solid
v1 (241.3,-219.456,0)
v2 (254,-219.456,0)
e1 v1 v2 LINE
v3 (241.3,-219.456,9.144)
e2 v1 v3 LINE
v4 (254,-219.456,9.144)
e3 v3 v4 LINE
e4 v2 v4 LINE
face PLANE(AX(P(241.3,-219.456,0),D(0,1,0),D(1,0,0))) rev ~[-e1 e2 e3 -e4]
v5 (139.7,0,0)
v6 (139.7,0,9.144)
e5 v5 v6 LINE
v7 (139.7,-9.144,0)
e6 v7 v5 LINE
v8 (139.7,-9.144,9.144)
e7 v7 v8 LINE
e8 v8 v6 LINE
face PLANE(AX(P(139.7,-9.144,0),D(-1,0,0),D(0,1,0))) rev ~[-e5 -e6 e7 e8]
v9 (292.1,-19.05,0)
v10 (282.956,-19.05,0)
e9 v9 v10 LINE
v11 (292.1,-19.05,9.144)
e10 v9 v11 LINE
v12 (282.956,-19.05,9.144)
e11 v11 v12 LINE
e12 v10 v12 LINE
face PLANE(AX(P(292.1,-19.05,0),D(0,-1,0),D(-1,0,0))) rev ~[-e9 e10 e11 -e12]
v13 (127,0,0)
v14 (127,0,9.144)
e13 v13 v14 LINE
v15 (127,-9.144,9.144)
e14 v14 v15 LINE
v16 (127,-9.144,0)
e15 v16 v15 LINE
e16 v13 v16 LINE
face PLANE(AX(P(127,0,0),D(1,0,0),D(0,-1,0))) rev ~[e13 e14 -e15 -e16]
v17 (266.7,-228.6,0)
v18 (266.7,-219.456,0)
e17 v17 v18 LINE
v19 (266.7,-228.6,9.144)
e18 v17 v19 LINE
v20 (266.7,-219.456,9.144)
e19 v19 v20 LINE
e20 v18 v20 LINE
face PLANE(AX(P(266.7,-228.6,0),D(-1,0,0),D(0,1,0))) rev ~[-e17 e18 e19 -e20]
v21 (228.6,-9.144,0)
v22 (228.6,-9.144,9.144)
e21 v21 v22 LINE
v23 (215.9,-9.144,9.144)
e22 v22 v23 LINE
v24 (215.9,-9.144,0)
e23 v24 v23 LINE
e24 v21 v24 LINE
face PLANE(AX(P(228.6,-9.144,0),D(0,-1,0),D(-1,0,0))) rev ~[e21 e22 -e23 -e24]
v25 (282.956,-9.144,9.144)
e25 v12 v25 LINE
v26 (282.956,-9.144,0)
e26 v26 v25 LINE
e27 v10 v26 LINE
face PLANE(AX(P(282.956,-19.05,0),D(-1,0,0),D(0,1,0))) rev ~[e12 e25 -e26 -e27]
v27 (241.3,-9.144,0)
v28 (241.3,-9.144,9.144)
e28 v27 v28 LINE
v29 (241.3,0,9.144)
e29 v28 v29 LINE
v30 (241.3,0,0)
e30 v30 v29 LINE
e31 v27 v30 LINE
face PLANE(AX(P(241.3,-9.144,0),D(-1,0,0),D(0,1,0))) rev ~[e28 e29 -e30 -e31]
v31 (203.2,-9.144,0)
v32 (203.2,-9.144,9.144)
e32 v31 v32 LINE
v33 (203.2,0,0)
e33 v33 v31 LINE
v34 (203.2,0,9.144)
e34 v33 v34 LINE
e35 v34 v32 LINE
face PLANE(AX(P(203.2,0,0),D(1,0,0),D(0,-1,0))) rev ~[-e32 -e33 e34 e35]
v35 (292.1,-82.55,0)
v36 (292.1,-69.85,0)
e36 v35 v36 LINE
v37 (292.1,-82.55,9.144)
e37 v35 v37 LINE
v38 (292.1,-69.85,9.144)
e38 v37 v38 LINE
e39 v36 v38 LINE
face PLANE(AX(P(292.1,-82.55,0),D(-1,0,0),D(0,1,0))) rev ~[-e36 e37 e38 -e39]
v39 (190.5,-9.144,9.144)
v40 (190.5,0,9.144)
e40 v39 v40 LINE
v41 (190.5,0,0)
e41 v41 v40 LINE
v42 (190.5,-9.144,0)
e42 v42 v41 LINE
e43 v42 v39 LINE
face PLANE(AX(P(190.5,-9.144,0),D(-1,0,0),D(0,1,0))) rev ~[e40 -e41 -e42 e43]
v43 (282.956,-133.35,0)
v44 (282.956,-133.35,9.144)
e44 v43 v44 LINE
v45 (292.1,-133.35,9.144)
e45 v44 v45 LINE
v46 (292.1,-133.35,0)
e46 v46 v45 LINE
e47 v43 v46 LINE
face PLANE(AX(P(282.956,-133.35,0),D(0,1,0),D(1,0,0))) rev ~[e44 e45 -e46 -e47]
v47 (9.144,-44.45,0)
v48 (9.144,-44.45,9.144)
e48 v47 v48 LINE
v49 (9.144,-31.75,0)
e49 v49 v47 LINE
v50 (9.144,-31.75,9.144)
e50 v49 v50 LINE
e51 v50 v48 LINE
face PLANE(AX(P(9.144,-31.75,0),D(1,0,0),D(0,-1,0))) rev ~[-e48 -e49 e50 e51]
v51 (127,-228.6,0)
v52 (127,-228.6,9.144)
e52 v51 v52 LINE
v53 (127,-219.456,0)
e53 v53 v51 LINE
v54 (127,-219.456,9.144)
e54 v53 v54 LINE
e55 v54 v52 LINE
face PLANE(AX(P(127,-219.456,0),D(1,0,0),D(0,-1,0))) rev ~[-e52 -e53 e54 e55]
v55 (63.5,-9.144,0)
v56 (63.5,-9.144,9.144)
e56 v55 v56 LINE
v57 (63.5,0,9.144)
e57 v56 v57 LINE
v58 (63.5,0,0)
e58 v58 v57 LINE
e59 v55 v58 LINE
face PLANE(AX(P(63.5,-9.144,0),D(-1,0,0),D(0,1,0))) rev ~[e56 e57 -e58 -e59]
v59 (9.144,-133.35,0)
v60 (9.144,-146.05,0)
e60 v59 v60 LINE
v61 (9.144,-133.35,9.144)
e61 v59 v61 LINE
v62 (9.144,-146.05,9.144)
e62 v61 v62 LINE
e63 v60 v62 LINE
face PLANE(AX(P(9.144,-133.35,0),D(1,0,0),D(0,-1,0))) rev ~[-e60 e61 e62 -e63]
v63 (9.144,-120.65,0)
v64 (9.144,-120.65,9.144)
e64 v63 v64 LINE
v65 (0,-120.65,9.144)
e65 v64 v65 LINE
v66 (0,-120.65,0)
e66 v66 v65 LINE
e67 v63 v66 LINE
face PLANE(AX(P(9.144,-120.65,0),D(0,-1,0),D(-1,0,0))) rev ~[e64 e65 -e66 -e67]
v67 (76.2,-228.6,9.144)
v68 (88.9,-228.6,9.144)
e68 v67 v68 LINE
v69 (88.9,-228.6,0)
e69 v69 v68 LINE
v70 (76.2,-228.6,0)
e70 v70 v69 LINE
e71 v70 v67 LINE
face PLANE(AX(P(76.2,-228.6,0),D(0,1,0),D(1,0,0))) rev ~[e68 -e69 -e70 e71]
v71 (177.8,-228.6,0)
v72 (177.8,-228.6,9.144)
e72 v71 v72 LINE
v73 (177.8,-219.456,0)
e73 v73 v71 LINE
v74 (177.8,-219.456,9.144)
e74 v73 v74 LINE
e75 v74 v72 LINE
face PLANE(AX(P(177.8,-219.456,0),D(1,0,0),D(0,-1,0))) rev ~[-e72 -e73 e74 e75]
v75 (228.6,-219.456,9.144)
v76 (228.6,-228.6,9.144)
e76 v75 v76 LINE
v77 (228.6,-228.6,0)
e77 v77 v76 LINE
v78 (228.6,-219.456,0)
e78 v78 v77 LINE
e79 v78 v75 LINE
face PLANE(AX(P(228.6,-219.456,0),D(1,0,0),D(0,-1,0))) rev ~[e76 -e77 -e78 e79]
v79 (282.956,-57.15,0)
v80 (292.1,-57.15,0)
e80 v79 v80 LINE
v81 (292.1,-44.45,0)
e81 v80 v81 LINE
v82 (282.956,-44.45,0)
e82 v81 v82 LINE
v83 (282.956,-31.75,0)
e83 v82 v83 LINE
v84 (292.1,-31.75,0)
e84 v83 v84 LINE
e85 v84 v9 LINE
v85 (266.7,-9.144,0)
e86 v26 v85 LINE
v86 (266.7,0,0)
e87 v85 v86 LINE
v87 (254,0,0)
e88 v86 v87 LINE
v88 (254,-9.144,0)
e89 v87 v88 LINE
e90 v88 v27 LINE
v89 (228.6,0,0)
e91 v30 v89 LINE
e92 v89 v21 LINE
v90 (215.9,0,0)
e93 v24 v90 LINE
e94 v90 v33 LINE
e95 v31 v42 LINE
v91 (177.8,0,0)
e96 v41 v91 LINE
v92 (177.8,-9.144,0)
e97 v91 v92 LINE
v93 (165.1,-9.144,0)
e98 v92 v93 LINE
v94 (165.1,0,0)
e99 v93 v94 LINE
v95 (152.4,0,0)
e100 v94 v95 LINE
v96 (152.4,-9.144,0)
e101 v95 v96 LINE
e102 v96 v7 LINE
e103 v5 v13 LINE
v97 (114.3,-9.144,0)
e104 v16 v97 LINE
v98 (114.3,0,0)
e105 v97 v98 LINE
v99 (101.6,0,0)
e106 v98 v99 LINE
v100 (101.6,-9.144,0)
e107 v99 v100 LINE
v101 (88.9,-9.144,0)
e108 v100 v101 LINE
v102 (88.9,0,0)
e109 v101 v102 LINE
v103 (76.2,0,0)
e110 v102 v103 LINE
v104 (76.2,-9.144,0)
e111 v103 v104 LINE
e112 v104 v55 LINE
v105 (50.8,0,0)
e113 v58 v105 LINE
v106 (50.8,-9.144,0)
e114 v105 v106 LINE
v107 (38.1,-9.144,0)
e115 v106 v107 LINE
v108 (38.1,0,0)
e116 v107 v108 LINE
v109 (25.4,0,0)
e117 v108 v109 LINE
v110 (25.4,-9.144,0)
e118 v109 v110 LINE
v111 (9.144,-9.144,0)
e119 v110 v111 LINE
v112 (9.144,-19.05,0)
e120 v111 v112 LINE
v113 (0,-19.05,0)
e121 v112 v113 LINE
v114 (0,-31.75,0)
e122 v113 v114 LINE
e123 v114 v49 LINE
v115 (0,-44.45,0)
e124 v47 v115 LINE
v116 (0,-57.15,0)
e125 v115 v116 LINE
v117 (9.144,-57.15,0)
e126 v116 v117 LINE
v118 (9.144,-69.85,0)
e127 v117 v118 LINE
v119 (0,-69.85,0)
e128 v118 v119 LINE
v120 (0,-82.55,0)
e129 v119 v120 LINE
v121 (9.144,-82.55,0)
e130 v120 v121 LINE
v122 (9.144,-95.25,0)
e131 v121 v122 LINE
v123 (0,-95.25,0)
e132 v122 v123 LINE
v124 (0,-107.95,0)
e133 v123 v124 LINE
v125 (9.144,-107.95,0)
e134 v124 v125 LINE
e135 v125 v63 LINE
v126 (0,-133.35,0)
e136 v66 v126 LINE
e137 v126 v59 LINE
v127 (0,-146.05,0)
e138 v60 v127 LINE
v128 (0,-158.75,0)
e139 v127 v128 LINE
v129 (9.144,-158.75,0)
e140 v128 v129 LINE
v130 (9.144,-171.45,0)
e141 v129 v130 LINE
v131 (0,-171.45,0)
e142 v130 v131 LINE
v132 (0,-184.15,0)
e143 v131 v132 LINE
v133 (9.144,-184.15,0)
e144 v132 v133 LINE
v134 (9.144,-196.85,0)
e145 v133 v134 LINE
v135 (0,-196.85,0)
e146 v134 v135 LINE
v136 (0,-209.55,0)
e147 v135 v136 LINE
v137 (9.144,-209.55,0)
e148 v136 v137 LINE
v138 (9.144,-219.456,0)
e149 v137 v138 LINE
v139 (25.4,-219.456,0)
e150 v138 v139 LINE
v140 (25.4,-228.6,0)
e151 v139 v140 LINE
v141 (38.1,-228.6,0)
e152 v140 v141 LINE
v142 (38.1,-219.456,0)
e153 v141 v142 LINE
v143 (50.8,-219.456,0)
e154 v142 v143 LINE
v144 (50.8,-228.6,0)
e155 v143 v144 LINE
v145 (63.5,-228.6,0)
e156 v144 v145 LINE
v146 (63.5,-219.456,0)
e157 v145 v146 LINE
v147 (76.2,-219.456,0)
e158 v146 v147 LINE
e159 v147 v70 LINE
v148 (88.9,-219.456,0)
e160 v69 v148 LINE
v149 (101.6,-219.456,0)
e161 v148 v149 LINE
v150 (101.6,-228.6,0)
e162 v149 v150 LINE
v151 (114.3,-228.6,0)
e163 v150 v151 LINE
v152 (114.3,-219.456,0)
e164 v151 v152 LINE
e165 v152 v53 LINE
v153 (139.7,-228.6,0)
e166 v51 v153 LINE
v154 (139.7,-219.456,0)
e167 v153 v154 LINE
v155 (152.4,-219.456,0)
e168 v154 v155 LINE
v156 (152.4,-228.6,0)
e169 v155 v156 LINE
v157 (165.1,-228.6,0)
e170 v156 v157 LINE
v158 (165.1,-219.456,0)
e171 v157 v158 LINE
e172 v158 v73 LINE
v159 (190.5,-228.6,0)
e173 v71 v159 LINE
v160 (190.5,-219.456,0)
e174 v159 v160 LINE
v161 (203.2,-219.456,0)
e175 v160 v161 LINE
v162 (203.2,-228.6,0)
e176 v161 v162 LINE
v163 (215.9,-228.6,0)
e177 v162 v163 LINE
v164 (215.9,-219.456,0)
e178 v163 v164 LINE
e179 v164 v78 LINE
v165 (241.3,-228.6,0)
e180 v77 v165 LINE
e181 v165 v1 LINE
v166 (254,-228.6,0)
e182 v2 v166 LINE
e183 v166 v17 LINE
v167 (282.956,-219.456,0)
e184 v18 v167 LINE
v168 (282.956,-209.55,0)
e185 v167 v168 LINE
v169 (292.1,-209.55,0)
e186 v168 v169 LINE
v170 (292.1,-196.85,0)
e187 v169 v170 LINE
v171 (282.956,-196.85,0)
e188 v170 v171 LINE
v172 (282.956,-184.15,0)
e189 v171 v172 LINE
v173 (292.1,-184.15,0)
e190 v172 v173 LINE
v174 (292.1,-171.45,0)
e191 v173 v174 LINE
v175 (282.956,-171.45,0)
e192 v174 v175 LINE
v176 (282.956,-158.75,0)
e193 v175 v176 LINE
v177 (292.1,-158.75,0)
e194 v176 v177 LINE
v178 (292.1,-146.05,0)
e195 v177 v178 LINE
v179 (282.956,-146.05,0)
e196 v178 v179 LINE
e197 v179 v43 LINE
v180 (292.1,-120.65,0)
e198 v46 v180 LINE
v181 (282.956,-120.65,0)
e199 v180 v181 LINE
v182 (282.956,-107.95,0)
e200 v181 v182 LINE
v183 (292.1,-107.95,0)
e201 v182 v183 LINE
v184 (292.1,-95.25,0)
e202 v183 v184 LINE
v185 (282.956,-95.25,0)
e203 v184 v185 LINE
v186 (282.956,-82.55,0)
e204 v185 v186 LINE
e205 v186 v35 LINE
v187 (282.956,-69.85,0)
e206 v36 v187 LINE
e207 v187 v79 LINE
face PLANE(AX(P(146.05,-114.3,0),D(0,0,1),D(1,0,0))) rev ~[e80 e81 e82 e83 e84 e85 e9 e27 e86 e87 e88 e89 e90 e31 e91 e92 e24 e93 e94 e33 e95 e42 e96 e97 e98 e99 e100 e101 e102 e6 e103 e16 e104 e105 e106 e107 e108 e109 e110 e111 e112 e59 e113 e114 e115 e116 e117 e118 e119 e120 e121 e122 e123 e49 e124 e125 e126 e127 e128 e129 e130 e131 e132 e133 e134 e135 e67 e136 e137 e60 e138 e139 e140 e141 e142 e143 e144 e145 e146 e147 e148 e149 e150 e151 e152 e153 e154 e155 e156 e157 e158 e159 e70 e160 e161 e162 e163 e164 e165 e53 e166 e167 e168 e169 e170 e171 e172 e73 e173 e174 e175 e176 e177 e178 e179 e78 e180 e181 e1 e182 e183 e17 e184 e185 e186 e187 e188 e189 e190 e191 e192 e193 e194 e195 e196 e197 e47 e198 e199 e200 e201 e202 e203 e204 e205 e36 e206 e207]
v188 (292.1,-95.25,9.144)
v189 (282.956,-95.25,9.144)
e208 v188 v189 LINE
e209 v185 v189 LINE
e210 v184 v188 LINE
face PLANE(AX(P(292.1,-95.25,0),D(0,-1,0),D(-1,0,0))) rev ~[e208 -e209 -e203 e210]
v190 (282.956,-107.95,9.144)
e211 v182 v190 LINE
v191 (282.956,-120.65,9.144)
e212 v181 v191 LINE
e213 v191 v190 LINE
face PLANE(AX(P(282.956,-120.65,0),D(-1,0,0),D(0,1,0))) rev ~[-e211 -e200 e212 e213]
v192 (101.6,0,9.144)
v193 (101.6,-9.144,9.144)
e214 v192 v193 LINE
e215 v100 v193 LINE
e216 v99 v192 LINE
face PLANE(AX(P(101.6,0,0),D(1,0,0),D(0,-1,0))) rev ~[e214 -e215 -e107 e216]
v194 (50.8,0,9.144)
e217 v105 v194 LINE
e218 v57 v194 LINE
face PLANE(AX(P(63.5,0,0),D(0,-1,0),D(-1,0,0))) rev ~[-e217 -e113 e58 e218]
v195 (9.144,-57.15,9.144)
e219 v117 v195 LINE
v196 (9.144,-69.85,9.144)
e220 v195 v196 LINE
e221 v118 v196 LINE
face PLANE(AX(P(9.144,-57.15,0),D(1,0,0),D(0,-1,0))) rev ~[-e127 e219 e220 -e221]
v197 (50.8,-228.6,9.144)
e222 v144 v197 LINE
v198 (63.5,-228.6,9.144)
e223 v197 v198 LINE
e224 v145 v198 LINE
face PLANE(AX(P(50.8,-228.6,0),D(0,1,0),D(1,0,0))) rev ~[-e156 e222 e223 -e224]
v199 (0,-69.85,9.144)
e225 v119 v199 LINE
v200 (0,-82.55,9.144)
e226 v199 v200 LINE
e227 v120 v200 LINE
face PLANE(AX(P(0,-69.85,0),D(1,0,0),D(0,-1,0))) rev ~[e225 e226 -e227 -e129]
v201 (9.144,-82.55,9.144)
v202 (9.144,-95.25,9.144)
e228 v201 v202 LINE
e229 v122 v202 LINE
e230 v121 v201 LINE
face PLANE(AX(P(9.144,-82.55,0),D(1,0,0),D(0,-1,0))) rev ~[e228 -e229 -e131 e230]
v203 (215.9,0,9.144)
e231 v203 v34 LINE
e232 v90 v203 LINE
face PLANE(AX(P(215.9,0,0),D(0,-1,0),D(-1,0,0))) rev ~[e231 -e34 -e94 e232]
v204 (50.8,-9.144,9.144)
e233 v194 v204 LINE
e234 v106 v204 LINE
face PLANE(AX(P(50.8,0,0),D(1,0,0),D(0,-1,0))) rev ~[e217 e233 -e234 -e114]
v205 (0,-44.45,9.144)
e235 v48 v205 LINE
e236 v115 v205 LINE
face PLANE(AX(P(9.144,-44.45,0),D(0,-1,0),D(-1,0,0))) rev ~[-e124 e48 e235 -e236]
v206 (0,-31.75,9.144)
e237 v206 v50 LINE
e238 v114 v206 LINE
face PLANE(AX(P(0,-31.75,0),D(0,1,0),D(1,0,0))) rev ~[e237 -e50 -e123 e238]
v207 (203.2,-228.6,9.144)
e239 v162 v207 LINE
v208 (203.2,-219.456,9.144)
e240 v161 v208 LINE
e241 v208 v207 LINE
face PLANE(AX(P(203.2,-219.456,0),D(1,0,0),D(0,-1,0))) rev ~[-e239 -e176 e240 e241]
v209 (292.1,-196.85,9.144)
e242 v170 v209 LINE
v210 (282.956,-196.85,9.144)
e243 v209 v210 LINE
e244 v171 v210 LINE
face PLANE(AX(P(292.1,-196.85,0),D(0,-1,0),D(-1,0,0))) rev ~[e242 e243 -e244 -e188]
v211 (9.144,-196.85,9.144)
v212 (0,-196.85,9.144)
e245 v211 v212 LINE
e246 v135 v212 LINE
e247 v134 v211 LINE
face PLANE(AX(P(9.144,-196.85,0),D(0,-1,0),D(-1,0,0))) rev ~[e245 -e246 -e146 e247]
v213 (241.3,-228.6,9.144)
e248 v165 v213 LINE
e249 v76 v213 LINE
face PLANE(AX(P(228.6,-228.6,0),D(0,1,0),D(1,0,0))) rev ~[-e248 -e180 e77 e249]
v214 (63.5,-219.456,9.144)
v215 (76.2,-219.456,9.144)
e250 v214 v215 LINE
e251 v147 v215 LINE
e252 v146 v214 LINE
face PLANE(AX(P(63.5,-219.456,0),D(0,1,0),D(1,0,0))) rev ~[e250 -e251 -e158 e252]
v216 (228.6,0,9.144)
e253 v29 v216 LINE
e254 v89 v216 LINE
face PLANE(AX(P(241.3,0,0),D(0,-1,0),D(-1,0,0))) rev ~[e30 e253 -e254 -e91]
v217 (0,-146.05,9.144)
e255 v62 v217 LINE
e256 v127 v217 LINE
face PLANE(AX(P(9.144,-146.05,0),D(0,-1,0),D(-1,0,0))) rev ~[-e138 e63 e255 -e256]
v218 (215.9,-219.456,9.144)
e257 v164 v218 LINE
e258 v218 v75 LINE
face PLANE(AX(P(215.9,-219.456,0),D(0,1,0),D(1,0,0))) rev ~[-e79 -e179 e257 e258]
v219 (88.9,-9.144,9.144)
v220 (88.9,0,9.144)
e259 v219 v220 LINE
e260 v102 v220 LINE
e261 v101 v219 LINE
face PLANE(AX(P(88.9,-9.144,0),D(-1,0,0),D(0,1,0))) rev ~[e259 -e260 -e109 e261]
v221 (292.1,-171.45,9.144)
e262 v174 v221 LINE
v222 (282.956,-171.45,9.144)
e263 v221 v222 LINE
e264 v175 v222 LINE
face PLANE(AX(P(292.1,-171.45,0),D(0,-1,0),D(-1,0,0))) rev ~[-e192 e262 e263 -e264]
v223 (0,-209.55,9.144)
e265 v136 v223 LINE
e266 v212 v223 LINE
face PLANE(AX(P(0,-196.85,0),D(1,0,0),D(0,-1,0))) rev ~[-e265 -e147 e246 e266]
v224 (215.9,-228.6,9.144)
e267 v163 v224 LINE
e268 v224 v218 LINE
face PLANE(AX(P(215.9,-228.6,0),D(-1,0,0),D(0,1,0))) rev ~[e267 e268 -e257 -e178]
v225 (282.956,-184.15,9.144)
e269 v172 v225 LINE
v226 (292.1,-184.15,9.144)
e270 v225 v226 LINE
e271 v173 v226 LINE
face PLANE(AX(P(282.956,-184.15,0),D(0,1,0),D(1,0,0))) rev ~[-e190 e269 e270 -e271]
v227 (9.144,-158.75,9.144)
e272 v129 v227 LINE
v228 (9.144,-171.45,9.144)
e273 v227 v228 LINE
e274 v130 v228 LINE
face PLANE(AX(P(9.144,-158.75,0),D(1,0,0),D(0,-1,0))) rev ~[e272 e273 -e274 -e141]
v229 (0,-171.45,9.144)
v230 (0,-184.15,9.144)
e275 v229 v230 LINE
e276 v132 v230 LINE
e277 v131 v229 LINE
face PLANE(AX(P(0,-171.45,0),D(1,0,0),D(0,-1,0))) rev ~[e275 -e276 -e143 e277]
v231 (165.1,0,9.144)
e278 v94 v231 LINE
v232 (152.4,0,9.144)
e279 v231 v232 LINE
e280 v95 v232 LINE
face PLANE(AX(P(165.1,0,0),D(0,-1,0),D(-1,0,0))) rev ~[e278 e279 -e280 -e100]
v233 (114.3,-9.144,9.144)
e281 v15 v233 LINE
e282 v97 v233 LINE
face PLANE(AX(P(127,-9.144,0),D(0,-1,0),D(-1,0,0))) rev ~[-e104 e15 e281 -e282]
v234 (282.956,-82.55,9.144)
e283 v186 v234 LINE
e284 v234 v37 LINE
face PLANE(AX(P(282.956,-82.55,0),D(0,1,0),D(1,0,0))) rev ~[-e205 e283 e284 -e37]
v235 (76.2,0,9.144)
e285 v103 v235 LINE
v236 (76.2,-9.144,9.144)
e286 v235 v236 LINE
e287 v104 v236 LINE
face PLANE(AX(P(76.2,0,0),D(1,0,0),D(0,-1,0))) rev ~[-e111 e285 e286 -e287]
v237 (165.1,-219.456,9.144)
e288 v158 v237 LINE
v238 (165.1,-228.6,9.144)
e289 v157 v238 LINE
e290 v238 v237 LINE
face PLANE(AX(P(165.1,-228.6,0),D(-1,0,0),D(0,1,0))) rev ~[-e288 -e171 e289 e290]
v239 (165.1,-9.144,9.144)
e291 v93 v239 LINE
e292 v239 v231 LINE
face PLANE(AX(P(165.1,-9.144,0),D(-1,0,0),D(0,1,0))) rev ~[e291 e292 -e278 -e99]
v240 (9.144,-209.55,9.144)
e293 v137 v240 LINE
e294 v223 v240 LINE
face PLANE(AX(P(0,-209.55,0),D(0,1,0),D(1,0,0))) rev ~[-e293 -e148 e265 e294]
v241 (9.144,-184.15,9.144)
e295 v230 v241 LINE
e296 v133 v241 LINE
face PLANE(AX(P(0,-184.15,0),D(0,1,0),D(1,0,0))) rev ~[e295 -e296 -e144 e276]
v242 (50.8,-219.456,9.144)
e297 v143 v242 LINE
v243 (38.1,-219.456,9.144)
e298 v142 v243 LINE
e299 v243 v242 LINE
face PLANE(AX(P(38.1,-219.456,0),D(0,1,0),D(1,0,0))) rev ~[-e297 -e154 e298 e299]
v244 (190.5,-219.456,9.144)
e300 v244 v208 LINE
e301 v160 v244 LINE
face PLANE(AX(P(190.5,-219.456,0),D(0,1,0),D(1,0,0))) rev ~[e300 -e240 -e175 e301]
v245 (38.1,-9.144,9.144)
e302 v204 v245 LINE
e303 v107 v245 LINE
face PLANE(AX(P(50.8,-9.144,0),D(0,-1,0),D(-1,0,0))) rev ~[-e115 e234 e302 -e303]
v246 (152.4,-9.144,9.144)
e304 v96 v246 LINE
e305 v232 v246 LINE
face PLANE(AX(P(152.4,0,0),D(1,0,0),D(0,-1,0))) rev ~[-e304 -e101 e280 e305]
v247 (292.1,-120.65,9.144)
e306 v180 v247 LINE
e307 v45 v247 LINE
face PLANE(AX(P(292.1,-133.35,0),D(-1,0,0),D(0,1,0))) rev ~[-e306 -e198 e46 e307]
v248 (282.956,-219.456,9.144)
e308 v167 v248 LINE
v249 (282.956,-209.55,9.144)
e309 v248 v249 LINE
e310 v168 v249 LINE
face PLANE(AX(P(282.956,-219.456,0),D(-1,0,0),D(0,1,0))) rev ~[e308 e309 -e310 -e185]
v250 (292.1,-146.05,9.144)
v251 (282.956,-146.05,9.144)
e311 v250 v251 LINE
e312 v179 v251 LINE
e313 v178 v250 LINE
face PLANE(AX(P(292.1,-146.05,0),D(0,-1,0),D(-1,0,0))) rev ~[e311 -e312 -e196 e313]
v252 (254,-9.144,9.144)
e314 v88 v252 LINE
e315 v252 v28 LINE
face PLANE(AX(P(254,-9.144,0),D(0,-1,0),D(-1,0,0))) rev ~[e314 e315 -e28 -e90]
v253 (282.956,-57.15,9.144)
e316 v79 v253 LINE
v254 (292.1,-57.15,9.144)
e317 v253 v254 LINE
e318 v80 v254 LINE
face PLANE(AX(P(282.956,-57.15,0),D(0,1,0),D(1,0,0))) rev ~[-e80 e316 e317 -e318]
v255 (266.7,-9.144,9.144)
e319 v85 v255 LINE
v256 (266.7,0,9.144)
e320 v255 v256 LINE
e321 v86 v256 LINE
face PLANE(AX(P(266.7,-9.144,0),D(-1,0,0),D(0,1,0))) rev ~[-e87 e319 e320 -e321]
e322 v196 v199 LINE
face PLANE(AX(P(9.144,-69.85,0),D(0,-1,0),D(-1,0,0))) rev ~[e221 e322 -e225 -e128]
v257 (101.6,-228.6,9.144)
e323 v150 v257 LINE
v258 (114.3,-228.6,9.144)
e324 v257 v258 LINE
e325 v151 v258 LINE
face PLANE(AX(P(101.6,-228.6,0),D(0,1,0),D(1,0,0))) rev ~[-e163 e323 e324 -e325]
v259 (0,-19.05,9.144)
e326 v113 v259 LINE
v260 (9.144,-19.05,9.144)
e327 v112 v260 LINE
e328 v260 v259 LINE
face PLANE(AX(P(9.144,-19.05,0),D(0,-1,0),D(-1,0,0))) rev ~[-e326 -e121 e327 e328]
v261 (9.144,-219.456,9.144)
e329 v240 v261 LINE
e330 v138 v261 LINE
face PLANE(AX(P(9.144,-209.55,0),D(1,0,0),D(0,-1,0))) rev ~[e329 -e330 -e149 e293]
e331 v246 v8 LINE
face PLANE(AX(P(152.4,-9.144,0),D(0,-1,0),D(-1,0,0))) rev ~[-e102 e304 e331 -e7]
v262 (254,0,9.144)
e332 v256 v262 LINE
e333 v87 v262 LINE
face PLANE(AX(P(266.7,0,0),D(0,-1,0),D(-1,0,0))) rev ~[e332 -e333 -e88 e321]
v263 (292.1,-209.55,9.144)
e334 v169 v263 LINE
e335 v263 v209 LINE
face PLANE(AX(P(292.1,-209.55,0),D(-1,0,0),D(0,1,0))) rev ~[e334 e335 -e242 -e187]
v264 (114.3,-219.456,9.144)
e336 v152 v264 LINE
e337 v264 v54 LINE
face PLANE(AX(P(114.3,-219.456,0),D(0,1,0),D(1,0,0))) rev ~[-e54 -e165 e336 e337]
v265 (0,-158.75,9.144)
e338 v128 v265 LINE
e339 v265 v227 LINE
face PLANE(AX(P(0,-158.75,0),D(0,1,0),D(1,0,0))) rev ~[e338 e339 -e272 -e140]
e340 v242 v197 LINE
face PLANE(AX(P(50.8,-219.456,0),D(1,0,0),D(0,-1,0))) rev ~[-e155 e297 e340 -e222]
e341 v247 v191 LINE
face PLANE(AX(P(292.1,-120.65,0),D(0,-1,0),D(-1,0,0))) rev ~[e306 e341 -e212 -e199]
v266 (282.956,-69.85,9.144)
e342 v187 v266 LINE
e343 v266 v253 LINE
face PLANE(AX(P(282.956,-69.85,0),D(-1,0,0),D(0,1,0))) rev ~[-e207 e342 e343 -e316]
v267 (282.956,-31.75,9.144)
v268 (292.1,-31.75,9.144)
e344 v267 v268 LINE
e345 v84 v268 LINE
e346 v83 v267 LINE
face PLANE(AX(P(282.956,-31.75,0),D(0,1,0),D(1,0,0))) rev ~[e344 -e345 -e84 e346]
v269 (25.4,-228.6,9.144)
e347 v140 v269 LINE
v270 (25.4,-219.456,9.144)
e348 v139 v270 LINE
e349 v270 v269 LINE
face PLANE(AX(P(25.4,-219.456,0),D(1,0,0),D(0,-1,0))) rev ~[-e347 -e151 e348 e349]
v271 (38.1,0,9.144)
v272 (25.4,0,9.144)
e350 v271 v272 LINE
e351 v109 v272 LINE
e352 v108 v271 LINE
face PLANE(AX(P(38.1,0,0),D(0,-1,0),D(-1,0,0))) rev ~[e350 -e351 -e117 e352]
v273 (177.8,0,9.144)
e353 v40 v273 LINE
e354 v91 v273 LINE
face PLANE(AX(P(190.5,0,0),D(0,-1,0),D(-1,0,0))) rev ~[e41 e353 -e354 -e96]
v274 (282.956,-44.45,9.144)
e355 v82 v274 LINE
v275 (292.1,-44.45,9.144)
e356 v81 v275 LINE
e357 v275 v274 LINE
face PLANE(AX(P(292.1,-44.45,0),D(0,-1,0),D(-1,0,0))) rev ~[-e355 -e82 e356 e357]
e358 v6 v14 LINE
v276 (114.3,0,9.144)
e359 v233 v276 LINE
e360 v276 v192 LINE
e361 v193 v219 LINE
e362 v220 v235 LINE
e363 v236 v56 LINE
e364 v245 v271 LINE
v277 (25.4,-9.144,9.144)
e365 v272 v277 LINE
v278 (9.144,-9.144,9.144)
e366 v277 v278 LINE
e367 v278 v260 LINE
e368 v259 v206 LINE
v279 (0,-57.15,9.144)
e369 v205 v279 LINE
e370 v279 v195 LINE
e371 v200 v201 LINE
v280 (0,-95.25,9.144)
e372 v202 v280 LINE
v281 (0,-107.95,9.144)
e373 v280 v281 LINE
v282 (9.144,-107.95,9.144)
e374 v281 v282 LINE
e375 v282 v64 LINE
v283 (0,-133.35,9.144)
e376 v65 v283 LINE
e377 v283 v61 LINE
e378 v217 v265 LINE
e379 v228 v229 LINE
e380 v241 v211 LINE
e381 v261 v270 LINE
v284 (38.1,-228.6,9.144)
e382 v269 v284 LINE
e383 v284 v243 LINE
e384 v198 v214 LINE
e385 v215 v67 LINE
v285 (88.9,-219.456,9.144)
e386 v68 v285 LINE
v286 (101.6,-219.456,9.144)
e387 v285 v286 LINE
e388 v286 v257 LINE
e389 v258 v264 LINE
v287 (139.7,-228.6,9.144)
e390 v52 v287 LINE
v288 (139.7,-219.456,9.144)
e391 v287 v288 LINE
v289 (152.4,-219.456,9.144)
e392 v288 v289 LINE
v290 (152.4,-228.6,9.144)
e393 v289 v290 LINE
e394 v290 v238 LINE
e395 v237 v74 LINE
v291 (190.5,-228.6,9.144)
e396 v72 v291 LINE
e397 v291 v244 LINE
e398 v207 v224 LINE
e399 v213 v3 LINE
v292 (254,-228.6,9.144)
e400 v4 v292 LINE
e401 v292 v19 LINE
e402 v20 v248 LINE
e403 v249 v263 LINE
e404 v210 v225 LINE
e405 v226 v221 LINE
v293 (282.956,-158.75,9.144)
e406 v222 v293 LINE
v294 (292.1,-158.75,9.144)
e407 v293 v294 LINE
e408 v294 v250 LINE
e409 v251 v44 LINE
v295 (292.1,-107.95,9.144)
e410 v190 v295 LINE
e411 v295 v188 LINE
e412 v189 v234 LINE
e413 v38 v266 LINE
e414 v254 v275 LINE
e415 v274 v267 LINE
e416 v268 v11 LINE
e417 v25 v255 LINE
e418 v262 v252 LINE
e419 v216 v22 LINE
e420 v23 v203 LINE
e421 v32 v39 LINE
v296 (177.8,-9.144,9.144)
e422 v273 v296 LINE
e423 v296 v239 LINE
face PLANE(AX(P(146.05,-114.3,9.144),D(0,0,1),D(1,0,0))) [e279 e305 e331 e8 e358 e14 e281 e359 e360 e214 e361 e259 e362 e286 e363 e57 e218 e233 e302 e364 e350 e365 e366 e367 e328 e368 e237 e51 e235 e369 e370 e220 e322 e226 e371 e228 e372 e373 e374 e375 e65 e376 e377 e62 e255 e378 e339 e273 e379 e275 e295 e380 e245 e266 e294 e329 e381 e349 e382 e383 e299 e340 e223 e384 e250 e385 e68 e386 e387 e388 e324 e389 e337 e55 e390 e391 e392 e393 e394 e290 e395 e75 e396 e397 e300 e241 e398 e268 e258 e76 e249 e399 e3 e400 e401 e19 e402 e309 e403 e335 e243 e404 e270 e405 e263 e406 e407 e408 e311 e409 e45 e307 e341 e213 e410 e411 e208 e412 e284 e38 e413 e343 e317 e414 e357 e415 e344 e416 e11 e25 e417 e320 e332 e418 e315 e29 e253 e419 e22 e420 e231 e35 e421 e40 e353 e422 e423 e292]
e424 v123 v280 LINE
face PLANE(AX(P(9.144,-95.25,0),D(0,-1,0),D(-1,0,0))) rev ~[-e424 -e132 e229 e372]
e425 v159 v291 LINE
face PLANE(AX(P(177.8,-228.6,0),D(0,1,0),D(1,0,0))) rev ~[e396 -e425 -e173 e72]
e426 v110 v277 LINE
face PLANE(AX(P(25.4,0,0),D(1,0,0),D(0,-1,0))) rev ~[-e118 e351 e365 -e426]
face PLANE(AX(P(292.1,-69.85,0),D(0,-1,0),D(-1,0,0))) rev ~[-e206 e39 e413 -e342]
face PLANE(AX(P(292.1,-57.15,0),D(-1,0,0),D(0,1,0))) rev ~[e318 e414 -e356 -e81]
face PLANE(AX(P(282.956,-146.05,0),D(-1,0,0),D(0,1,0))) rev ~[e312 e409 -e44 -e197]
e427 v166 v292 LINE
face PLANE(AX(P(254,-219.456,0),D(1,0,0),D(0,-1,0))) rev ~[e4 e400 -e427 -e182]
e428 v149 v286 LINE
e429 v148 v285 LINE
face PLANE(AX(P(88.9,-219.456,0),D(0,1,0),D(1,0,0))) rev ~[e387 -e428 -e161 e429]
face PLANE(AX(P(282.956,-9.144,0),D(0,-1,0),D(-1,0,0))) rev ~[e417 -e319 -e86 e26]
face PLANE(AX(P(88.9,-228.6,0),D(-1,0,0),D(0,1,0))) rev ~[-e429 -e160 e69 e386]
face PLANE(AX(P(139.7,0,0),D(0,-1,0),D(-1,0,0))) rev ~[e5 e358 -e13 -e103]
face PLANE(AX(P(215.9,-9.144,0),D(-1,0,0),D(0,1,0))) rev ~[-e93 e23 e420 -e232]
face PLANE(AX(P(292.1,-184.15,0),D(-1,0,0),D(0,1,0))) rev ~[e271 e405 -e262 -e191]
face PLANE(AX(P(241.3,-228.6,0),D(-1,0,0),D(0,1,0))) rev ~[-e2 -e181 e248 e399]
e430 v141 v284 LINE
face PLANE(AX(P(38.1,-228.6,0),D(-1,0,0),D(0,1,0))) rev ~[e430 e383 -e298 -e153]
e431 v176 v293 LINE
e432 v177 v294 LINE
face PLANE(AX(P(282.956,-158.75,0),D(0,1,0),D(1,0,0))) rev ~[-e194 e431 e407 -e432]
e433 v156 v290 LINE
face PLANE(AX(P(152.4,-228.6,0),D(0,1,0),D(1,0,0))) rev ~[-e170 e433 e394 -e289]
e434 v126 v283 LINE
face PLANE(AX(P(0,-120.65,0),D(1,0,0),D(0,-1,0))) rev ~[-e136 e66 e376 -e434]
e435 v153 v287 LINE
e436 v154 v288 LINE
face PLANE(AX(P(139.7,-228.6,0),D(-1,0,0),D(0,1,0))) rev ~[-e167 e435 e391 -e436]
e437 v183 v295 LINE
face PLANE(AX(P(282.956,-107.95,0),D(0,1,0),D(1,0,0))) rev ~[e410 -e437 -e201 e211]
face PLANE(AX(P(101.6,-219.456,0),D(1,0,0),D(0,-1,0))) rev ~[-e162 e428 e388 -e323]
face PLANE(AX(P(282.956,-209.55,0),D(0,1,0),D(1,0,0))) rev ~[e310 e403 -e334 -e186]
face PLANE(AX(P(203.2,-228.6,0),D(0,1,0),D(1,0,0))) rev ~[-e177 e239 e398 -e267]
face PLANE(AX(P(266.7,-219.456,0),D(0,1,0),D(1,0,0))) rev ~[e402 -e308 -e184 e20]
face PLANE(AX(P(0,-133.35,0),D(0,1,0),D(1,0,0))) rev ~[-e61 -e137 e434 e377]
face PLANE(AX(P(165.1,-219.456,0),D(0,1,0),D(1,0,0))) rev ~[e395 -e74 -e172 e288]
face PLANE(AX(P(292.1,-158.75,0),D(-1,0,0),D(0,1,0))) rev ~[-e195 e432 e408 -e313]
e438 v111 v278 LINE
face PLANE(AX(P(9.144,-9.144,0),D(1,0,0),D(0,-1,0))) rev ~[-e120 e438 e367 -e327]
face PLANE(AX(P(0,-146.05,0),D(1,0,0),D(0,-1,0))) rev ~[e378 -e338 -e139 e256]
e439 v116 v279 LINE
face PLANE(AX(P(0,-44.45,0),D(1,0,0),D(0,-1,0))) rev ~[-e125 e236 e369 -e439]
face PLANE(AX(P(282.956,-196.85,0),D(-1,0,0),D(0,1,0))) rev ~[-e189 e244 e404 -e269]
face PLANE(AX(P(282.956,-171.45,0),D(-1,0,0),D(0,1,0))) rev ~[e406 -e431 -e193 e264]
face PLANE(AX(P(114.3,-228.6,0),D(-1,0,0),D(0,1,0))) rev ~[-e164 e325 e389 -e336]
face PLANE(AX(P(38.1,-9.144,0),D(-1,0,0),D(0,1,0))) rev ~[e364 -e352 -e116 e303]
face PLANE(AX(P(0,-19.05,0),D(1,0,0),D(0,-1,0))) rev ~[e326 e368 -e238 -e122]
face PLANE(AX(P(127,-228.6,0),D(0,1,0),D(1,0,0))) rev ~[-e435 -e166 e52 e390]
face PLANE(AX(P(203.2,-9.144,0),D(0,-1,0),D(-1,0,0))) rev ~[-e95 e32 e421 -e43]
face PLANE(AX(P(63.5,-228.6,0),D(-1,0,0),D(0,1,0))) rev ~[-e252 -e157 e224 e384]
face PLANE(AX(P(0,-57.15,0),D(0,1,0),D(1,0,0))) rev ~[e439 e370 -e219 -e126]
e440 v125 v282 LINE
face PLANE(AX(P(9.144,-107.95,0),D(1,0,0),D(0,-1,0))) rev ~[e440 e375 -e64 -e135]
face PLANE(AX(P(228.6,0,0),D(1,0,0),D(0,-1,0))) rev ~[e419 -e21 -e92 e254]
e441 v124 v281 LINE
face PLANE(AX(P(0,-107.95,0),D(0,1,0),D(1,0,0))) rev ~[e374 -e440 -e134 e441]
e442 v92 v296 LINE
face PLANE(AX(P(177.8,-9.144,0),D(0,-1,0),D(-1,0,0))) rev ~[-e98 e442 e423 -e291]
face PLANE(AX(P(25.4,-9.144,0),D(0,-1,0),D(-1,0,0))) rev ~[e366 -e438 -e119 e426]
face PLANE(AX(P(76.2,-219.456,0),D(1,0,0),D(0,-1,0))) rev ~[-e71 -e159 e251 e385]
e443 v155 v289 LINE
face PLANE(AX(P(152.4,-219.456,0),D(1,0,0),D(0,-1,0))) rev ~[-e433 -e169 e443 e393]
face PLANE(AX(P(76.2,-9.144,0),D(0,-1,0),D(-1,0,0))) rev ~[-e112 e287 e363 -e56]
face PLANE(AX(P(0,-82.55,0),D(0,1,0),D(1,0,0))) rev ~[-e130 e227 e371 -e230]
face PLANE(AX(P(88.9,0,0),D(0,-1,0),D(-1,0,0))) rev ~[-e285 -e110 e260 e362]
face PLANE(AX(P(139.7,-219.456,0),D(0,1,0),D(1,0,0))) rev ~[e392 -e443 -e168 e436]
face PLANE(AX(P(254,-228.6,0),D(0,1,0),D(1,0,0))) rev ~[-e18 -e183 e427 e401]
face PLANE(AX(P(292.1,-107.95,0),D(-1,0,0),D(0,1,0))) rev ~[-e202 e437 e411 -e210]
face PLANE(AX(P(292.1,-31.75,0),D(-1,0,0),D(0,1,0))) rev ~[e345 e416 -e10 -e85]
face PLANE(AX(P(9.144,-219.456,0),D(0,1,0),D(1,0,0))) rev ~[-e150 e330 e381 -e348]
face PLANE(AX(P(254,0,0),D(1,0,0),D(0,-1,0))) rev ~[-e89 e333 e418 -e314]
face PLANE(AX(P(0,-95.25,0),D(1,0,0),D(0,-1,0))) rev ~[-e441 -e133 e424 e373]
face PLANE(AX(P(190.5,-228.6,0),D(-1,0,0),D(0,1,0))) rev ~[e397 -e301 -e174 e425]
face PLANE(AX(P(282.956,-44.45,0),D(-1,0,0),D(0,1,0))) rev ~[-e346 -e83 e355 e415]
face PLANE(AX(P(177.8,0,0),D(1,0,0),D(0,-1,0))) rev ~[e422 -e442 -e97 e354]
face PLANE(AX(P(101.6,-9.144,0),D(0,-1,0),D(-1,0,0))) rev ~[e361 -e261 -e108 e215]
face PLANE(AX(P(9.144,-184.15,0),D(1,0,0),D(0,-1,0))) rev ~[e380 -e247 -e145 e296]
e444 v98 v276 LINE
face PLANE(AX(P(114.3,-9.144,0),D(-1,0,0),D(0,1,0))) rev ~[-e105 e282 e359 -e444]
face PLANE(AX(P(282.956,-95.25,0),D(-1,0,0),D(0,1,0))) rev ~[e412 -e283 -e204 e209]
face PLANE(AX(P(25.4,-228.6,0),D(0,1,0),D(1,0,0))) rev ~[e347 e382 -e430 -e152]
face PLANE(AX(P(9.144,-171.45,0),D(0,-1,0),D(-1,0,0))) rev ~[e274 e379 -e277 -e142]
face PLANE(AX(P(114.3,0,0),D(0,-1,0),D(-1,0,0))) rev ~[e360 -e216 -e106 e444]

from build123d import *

# Parameters (mm, degrees)
F1_DEPTH = 9.144


with BuildPart() as f1:
    # F0 (on Top) → F1 (new body)
    with BuildSketch(Plane.XY):
        Polygon((25.4, -9.144), (9.144, -9.144), (9.144, -19.05), (0, -19.05), (0, -31.75), (9.144, -31.75), (9.144, -44.45), (0, -44.45), (0, -57.15), (9.144, -57.15), (9.144, -69.85), (0, -69.85), (0, -82.55), (9.144, -82.55), (9.144, -95.25), (0, -95.25), (0, -107.95), (9.144, -107.95), (9.144, -114.3), (9.144, -120.65), (0, -120.65), (0, -133.35), (9.144, -133.35), (9.144, -146.05), (0, -146.05), (0, -158.75), (9.144, -158.75), (9.144, -171.45), (0, -171.45), (0, -184.15), (9.144, -184.15), (9.144, -196.85), (0, -196.85), (0, -209.55), (9.144, -209.55), (9.144, -219.456), (25.4, -219.456), (25.4, -228.6), (38.1, -228.6), (38.1, -219.456), (50.8, -219.456), (50.8, -228.6), (63.5, -228.6), (63.5, -219.456), (76.2, -219.456), (76.2, -228.6), (88.9, -228.6), (88.9, -219.456), (101.6, -219.456), (101.6, -228.6), (114.3, -228.6), (114.3, -219.456), (127, -219.456), (127, -228.6), (139.7, -228.6), (139.7, -219.456), (146.05, -219.456), (152.4, -219.456), (152.4, -228.6), (165.1, -228.6), (165.1, -219.456), (177.8, -219.456), (177.8, -228.6), (190.5, -228.6), (190.5, -219.456), (203.2, -219.456), (203.2, -228.6), (215.9, -228.6), (215.9, -219.456), (228.6, -219.456), (228.6, -228.6), (241.3, -228.6), (241.3, -219.456), (254, -219.456), (254, -228.6), (266.7, -228.6), (266.7, -219.456), (282.956, -219.456), (282.956, -209.55), (292.1, -209.55), (292.1, -196.85), (282.956, -196.85), (282.956, -184.15), (292.1, -184.15), (292.1, -171.45), (282.956, -171.45), (282.956, -158.75), (292.1, -158.75), (292.1, -146.05), (282.956, -146.05), (282.956, -133.35), (292.1, -133.35), (292.1, -120.65), (282.956, -120.65), (282.956, -114.3), (282.956, -107.95), (292.1, -107.95), (292.1, -95.25), (282.956, -95.25), (282.956, -82.55), (292.1, -82.55), (292.1, -69.85), (282.956, -69.85), (282.956, -57.15), (292.1, -57.15), (292.1, -44.45), (282.956, -44.45), (282.956, -31.75), (292.1, -31.75), (292.1, -19.05), (282.956, -19.05), (282.956, -9.144), (266.7, -9.144), (266.7, 0), (254, 0), (254, -9.144), (241.3, -9.144), (241.3, 0), (228.6, 0), (228.6, -9.144), (215.9, -9.144), (215.9, 0), (203.2, 0), (203.2, -9.144), (190.5, -9.144), (190.5, 0), (177.8, 0), (177.8, -9.144), (165.1, -9.144), (165.1, 0), (152.4, 0), (152.4, -9.144), (146.05, -9.144), (139.7, -9.144), (139.7, 0), (127, 0), (127, -9.144), (114.3, -9.144), (114.3, 0), (101.6, 0), (101.6, -9.144), (88.9, -9.144), (88.9, 0), (76.2, 0), (76.2, -9.144), (63.5, -9.144), (63.5, 0), (50.8, 0), (50.8, -9.144), (38.1, -9.144), (38.1, 0), (25.4, 0), align=None)
    extrude(amount=F1_DEPTH)


solid = f1.part
